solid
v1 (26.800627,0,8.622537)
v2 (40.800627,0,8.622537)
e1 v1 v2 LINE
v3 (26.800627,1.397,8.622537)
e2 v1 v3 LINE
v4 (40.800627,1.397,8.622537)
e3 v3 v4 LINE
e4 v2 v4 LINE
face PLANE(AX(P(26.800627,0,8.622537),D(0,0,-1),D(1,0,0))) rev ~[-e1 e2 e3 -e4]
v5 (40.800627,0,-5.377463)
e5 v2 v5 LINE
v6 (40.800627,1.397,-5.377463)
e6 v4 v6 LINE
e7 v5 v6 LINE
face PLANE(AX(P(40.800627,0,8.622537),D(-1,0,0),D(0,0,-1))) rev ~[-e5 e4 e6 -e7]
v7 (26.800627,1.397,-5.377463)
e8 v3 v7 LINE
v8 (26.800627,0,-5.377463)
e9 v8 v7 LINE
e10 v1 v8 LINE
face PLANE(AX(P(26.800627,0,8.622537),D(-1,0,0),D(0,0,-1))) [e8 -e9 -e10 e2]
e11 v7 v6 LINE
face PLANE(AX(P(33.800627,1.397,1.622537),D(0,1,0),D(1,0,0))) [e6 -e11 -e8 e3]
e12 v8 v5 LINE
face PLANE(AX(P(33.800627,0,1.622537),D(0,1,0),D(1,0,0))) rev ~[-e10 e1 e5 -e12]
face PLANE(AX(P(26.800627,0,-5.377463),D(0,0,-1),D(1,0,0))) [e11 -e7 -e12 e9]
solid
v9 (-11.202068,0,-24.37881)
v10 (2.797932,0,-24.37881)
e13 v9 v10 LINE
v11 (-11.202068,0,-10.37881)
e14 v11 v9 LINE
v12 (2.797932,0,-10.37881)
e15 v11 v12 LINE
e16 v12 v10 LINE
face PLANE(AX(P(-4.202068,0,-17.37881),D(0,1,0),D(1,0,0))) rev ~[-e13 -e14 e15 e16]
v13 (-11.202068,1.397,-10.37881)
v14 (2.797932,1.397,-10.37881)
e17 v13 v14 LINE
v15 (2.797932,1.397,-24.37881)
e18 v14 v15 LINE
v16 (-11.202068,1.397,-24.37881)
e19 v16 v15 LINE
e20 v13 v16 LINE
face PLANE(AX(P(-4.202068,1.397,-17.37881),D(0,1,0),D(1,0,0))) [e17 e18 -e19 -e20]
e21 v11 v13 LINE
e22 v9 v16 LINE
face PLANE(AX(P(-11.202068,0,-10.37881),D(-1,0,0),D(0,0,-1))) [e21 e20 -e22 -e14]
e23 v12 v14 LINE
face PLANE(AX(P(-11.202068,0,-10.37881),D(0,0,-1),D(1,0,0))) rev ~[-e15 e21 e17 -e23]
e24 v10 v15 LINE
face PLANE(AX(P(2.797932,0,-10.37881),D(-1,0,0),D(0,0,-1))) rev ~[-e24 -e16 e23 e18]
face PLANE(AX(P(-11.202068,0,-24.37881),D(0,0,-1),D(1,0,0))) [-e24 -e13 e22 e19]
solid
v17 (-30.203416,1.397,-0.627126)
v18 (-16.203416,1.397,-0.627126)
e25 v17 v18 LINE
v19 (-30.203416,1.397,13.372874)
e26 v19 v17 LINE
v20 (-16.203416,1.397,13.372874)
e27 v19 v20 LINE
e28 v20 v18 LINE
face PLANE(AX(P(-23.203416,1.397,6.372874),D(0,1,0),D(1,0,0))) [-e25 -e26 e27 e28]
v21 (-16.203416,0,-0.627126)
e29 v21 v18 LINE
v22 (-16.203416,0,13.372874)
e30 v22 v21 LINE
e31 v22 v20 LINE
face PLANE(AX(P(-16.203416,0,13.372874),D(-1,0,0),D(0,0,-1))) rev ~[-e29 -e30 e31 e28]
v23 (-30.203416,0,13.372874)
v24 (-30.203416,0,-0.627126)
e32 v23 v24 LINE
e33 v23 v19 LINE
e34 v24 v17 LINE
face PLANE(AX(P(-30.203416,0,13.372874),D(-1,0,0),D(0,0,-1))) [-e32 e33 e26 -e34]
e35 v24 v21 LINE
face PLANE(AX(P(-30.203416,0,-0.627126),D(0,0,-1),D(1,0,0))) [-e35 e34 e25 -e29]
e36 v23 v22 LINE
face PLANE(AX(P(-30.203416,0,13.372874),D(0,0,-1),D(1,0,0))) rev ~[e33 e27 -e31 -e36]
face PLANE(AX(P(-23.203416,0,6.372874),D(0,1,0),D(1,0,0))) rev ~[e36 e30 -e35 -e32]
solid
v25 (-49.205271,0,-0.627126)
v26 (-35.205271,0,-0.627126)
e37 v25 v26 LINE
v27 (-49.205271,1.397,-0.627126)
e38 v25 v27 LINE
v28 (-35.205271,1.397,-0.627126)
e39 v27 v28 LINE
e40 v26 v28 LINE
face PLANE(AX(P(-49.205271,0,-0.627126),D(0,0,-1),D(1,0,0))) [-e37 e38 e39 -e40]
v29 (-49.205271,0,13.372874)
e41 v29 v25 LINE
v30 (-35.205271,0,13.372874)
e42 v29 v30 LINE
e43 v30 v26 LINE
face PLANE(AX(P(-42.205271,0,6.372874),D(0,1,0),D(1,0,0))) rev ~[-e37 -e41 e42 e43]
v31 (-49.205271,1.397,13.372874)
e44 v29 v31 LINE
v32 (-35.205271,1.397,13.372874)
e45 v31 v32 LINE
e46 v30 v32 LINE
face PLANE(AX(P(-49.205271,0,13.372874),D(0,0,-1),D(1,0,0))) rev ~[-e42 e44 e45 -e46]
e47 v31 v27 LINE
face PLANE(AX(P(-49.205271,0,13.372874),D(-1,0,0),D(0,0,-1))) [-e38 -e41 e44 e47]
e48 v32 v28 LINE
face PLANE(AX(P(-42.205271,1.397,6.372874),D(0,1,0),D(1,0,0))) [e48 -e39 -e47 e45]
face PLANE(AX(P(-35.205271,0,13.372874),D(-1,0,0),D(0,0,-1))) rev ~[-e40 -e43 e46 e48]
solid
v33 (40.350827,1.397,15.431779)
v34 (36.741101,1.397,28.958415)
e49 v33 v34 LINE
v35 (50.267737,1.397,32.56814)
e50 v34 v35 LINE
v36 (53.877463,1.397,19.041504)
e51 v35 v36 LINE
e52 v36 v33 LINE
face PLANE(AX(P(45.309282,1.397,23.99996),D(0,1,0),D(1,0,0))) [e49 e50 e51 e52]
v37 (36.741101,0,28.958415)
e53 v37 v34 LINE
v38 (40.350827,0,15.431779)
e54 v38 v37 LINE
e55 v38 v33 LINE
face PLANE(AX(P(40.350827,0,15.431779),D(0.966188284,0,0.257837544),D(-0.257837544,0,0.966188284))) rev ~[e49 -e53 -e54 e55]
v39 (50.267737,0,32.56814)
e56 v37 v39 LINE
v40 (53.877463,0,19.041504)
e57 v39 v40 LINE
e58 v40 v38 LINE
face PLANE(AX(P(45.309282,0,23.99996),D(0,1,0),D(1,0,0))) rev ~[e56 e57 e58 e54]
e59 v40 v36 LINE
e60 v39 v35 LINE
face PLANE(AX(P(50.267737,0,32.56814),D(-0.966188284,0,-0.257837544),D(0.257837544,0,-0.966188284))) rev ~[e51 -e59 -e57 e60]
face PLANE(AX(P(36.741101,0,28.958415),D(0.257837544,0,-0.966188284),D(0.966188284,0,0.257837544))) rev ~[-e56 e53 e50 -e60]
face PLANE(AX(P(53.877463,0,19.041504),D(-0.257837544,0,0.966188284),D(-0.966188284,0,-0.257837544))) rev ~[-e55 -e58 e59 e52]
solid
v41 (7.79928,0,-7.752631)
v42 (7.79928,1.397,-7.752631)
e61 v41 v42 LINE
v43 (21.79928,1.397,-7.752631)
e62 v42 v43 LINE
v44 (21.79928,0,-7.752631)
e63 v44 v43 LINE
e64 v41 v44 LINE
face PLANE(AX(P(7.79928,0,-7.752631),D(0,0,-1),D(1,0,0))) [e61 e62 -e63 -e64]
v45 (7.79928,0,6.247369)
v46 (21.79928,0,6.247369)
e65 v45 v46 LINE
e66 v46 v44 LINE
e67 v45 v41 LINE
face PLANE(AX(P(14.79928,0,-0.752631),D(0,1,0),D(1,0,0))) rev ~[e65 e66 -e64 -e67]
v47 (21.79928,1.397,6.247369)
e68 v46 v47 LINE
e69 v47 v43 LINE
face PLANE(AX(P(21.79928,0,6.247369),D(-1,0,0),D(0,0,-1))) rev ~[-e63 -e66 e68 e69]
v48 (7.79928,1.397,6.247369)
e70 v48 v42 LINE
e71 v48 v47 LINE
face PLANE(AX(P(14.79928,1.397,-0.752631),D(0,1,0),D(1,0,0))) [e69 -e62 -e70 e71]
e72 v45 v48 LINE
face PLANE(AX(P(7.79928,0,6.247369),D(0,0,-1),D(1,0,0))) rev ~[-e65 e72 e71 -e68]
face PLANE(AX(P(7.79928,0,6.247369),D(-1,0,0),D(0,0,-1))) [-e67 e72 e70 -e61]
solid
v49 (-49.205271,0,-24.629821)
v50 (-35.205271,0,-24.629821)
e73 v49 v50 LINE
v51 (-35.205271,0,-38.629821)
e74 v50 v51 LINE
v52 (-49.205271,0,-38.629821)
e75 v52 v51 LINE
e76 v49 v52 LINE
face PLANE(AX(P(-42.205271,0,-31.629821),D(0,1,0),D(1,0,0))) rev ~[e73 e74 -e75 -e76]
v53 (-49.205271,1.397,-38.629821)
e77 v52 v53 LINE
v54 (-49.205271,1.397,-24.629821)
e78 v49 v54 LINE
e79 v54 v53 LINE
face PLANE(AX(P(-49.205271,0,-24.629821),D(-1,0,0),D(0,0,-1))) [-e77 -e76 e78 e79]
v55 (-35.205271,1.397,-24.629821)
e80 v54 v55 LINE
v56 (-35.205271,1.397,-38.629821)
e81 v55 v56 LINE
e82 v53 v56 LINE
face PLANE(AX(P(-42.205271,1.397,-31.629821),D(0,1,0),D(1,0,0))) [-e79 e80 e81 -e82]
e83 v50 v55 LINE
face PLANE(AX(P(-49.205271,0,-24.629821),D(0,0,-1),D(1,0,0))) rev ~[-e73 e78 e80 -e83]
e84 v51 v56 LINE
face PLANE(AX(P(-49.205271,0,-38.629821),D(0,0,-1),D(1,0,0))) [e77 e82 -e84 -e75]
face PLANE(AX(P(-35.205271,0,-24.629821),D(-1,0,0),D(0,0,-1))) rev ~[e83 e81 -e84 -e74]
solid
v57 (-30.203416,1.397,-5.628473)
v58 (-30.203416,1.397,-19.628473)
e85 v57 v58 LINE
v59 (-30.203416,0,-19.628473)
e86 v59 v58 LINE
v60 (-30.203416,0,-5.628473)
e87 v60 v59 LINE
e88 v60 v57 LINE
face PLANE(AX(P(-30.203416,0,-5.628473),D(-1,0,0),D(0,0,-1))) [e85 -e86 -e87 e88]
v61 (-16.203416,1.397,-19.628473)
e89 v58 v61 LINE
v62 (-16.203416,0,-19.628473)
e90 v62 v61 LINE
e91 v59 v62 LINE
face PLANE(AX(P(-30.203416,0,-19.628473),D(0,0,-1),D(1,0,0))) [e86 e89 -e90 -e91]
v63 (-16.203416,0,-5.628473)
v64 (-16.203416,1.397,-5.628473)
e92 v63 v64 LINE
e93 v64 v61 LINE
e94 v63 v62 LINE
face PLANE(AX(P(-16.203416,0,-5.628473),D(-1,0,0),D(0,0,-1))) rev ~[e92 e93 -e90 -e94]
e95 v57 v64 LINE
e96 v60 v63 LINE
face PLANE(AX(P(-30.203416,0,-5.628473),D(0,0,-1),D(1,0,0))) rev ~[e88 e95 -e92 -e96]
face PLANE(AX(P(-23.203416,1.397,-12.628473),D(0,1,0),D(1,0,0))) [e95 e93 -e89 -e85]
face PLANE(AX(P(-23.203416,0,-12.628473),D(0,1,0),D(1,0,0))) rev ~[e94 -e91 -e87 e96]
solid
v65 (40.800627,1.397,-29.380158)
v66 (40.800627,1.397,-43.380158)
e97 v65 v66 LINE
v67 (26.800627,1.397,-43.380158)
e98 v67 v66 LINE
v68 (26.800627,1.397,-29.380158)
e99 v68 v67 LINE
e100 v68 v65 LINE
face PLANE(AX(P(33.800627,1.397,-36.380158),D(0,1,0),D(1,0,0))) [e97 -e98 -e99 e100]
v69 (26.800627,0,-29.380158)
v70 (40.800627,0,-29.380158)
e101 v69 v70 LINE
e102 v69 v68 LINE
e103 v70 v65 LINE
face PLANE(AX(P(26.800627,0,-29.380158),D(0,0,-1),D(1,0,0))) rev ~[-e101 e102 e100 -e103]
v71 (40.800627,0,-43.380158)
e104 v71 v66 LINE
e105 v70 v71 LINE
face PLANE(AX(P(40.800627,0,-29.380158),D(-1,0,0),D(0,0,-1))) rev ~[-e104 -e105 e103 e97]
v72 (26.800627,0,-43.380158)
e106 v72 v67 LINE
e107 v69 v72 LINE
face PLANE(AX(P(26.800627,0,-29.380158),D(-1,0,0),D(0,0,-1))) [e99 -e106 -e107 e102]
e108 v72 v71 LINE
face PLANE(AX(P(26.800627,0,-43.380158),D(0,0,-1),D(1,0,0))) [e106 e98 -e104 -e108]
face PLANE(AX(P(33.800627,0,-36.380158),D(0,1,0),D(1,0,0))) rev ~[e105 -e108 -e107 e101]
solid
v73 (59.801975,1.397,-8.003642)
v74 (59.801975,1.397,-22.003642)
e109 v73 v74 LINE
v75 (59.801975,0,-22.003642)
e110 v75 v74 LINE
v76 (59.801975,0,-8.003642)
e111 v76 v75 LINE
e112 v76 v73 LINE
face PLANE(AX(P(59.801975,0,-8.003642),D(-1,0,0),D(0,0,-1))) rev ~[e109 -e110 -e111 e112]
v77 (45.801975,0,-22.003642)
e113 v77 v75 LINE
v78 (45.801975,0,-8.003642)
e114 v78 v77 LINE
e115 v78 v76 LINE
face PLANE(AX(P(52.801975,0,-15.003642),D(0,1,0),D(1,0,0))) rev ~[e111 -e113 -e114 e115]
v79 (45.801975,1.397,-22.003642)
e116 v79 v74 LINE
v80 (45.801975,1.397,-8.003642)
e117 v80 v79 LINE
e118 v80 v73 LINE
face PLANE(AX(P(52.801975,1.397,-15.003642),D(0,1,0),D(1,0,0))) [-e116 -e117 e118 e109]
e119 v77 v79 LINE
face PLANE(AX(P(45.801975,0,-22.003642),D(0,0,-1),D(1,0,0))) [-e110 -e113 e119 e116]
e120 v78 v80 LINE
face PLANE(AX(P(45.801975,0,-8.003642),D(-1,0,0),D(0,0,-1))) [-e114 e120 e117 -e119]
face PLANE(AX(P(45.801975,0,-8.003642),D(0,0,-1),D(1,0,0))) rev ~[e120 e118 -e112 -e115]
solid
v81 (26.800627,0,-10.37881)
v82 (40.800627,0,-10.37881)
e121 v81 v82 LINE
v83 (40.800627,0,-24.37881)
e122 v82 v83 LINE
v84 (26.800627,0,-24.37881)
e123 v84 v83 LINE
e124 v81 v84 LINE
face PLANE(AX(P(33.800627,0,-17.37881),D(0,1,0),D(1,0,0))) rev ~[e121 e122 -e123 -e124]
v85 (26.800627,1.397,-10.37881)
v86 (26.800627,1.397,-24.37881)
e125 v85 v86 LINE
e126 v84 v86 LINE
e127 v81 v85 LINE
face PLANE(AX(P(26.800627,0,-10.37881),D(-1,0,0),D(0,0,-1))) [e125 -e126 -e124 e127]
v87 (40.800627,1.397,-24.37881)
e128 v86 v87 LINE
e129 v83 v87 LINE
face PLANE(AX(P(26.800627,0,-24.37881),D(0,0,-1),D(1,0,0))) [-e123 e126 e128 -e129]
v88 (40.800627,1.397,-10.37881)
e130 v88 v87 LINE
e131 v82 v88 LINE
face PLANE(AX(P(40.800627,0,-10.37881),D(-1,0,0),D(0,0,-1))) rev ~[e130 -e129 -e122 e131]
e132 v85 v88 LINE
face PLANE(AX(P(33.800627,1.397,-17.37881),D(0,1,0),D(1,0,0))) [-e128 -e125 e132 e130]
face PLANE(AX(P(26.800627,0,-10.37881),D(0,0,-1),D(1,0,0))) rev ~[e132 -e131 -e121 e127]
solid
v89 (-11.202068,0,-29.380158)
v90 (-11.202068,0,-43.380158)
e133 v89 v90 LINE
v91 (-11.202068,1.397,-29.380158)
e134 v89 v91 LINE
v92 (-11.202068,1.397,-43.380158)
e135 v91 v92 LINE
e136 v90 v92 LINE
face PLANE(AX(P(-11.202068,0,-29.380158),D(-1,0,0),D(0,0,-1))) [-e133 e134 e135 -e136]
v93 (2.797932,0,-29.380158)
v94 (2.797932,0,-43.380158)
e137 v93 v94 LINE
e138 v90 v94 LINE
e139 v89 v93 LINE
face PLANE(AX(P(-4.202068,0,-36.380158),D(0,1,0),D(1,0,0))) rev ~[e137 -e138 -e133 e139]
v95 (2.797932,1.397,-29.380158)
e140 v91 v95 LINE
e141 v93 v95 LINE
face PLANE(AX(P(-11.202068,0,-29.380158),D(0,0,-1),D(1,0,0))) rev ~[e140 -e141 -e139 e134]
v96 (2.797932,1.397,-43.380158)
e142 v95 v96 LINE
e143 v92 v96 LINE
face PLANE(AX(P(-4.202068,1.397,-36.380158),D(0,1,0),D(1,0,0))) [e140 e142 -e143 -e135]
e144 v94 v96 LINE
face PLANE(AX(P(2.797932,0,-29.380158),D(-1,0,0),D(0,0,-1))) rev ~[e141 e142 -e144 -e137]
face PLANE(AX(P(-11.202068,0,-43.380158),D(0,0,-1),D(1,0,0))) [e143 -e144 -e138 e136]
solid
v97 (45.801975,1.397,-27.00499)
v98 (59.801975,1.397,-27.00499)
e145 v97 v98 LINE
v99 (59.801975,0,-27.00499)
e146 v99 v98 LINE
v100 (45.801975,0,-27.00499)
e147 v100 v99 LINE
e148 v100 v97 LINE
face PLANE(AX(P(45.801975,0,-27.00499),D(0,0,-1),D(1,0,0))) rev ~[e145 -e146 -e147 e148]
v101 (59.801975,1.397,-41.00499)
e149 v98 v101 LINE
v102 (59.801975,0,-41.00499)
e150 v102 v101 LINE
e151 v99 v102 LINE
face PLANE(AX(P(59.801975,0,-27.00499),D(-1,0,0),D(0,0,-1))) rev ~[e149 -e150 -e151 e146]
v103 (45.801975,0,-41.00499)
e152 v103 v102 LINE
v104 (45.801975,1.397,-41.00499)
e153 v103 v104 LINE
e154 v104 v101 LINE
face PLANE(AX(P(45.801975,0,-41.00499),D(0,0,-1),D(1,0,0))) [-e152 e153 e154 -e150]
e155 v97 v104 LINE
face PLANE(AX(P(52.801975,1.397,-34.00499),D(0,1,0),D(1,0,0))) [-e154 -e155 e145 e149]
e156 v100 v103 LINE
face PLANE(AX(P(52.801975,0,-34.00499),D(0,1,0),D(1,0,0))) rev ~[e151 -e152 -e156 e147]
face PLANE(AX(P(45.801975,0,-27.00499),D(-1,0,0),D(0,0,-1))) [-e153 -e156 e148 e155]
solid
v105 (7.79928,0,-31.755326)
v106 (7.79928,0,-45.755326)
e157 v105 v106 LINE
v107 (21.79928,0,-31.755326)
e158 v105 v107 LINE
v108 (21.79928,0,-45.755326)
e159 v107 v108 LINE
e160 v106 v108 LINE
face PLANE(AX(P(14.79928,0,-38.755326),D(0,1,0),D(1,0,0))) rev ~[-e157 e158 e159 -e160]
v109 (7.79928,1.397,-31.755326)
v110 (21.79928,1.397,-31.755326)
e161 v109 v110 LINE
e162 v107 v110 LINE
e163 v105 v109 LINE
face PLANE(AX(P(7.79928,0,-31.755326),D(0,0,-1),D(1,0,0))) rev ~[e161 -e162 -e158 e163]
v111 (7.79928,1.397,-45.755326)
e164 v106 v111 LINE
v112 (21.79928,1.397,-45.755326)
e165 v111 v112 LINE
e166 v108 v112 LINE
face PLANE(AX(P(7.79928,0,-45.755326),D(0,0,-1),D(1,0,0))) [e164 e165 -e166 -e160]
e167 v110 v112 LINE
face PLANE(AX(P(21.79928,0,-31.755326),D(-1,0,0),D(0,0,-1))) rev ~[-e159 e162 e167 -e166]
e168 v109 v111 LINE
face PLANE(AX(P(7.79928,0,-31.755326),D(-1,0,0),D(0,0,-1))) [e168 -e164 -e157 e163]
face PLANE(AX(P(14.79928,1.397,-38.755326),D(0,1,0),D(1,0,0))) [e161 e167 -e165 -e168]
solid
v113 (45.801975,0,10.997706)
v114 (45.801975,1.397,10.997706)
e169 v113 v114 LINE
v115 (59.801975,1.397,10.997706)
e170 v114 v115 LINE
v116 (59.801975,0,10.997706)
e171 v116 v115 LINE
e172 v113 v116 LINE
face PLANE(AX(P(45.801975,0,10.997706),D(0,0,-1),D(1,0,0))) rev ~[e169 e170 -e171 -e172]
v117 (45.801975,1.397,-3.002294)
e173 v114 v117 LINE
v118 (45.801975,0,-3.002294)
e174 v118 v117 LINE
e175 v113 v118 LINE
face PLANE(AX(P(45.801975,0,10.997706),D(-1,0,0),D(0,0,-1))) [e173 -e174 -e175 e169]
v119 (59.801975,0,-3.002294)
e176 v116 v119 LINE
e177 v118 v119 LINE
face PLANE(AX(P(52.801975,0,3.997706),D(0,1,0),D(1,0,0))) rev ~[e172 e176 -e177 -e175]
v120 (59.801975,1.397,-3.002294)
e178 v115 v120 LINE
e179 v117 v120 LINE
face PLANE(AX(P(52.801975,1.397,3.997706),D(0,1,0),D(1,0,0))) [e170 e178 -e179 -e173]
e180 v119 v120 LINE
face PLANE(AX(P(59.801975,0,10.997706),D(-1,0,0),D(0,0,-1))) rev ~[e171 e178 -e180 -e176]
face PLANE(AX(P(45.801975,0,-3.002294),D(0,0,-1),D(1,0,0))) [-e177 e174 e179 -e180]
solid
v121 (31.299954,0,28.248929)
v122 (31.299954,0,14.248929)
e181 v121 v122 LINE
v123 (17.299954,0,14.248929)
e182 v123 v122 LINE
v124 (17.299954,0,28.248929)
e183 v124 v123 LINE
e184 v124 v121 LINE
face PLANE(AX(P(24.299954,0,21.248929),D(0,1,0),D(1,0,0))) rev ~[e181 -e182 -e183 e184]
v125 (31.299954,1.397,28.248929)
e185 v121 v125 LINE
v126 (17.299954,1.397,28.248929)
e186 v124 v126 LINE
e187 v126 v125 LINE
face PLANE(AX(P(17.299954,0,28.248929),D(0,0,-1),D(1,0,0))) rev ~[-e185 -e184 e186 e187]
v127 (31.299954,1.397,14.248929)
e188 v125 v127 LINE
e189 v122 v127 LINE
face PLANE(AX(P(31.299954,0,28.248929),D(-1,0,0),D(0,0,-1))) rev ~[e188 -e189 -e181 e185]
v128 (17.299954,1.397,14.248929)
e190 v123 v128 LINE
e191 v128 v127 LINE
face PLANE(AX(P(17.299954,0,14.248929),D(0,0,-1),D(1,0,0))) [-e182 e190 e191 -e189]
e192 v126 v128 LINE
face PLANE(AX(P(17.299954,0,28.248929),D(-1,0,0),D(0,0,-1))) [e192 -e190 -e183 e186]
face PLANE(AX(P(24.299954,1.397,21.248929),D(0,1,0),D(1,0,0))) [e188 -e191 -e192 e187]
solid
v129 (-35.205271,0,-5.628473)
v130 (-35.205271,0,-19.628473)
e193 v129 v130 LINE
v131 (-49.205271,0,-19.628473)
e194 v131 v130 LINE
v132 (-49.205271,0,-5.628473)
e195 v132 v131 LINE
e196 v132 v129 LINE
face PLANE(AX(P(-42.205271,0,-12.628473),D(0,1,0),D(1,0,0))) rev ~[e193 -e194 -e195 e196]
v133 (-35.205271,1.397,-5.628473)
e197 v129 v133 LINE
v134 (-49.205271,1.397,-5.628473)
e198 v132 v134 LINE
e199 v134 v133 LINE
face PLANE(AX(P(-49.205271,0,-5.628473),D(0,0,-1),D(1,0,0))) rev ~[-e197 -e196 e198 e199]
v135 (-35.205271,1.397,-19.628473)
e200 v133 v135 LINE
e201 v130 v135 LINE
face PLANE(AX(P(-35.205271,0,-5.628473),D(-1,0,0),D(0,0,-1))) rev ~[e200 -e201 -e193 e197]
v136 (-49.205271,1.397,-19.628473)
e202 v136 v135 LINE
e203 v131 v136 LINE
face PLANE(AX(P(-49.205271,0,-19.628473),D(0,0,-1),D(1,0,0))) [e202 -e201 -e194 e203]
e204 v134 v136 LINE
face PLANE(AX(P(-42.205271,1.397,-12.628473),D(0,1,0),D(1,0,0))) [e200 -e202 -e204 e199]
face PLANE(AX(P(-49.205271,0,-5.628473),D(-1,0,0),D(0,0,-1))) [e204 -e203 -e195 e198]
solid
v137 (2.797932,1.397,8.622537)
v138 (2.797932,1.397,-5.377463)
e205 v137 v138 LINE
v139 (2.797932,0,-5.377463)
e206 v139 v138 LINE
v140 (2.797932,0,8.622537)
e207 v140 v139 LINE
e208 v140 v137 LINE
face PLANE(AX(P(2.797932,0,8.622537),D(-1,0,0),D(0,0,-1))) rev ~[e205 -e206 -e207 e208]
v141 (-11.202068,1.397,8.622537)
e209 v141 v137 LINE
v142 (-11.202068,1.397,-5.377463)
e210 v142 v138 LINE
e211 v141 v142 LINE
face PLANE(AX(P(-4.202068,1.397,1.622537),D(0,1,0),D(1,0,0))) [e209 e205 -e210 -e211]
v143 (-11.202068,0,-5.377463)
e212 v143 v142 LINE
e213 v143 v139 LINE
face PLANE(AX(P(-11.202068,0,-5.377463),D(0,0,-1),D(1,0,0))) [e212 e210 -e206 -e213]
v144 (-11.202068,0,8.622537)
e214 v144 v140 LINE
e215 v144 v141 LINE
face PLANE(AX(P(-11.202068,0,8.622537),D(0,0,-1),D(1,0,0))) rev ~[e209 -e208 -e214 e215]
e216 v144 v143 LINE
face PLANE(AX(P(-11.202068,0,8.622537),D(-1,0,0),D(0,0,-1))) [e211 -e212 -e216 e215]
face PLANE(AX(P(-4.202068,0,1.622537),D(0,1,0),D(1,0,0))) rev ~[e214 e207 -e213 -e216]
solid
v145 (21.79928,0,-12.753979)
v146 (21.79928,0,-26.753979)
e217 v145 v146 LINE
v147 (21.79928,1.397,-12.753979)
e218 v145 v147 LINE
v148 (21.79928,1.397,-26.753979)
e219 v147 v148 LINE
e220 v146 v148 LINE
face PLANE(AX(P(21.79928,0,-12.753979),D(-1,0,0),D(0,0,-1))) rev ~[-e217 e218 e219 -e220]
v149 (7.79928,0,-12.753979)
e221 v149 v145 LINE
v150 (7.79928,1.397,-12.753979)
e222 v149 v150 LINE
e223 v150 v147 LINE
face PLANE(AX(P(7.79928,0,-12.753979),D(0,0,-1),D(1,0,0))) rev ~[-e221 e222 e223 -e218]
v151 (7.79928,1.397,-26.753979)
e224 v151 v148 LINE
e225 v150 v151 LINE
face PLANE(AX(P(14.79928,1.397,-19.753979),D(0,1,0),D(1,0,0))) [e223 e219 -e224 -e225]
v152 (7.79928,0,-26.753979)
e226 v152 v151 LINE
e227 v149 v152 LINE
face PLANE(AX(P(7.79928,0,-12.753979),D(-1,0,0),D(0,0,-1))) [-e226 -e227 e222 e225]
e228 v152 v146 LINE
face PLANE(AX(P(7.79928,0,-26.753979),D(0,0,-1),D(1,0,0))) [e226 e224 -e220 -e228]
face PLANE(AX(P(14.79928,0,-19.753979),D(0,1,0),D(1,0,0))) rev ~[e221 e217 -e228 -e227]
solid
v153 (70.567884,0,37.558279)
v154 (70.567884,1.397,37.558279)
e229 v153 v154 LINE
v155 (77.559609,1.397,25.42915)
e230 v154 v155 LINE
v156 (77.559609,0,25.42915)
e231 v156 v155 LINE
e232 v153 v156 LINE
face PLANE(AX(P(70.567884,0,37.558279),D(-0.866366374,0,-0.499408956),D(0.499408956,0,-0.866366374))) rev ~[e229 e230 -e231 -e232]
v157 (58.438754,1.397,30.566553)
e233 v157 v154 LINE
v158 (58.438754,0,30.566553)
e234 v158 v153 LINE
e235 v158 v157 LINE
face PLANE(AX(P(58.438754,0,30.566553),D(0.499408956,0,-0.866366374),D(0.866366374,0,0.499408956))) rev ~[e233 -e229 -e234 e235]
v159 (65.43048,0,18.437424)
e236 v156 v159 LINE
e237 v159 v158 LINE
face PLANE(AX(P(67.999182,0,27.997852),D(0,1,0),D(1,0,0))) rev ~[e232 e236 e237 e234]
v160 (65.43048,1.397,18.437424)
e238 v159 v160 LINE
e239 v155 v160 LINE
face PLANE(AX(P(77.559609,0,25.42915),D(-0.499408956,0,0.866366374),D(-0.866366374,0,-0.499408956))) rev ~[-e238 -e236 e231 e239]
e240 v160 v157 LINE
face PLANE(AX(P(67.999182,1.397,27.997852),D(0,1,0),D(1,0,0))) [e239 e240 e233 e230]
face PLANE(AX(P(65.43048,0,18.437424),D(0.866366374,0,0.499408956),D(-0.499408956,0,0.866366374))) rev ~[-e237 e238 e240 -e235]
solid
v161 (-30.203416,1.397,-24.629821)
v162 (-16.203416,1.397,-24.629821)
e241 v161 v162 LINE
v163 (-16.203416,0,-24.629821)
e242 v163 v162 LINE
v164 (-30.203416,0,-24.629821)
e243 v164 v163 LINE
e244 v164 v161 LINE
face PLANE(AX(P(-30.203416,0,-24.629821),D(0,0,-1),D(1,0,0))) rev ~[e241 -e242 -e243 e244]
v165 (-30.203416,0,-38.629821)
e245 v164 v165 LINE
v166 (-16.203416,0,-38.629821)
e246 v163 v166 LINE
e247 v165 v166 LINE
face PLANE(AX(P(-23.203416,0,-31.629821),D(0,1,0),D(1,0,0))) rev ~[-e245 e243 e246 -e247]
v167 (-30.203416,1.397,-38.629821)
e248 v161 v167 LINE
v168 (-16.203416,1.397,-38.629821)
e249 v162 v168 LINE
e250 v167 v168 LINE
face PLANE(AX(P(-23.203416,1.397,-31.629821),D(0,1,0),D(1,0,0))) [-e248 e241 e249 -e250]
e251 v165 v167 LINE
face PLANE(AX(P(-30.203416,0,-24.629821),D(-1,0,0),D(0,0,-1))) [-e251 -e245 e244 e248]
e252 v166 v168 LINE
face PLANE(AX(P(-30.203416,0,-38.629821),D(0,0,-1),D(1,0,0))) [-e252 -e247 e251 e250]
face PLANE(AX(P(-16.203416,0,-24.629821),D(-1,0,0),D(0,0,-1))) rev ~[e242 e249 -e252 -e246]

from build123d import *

# Parameters (mm, degrees)
SKETCH1_W              = 14
SKETCH1_H              = 14
BOSS_EXTRUDE1_DEPTH    = 1.397
BOSS_EXTRUDE1_2_DEPTH  = 1.397
BOSS_EXTRUDE1_3_DEPTH  = 1.397
BOSS_EXTRUDE1_4_DEPTH  = 1.397
BOSS_EXTRUDE1_5_DEPTH  = 1.397
BOSS_EXTRUDE1_6_DEPTH  = 1.397
BOSS_EXTRUDE1_7_DEPTH  = 1.397
BOSS_EXTRUDE1_8_DEPTH  = 1.397
BOSS_EXTRUDE1_9_DEPTH  = 1.397
BOSS_EXTRUDE1_10_DEPTH = 1.397
BOSS_EXTRUDE1_11_DEPTH = 1.397
BOSS_EXTRUDE1_12_DEPTH = 1.397
BOSS_EXTRUDE1_13_DEPTH = 1.397
BOSS_EXTRUDE1_14_DEPTH = 1.397
BOSS_EXTRUDE1_15_DEPTH = 1.397
BOSS_EXTRUDE1_16_DEPTH = 1.397
BOSS_EXTRUDE1_17_DEPTH = 1.397
BOSS_EXTRUDE1_18_DEPTH = 1.397
BOSS_EXTRUDE1_19_DEPTH = 1.397
BOSS_EXTRUDE1_20_DEPTH = 1.397
BOSS_EXTRUDE1_21_DEPTH = 1.397


with BuildPart() as part:
    # Sketch1 → Boss-Extrude1 (new body)
    with BuildSketch(Plane(origin=(0, 0, 0), x_dir=(1, 0, 0), z_dir=(0, 1, 0))):
        with Locations((-42.205271238, 31.629821093)):
            Rectangle(SKETCH1_W, SKETCH1_H)
    extrude(amount=BOSS_EXTRUDE1_DEPTH)


with BuildPart() as body_2:
    # Sketch1 → Boss-Extrude1 2 (new body)
    with BuildSketch(Plane(origin=(0, 0, 0), x_dir=(1, 0, 0), z_dir=(0, 1, 0))):
        with Locations((-42.205271238, 12.628473437)):
            Rectangle(SKETCH1_W, SKETCH1_H)
    extrude(amount=BOSS_EXTRUDE1_2_DEPTH)


with BuildPart() as body_3:
    # Sketch1 → Boss-Extrude1 3 (new body)
    with BuildSketch(Plane(origin=(0, 0, 0), x_dir=(1, 0, 0), z_dir=(0, 1, 0))):
        with Locations((-42.205271238, -6.372874219)):
            Rectangle(SKETCH1_W, SKETCH1_H)
    extrude(amount=BOSS_EXTRUDE1_3_DEPTH)


with BuildPart() as body_4:
    # Sketch1 → Boss-Extrude1 4 (new body)
    with BuildSketch(Plane(origin=(0, 0, 0), x_dir=(1, 0, 0), z_dir=(0, 1, 0))):
        with Locations((-23.203415546, 31.629821093)):
            Rectangle(SKETCH1_W, SKETCH1_H)
    extrude(amount=BOSS_EXTRUDE1_4_DEPTH)


with BuildPart() as body_5:
    # Sketch1 → Boss-Extrude1 5 (new body)
    with BuildSketch(Plane(origin=(0, 0, 0), x_dir=(1, 0, 0), z_dir=(0, 1, 0))):
        with Locations((-23.203415546, 12.628473437)):
            Rectangle(SKETCH1_W, SKETCH1_H)
    extrude(amount=BOSS_EXTRUDE1_5_DEPTH)


with BuildPart() as body_6:
    # Sketch1 → Boss-Extrude1 6 (new body)
    with BuildSketch(Plane(origin=(0, 0, 0), x_dir=(1, 0, 0), z_dir=(0, 1, 0))):
        with Locations((-23.203415546, -6.372874219)):
            Rectangle(SKETCH1_W, SKETCH1_H)
    extrude(amount=BOSS_EXTRUDE1_6_DEPTH)


with BuildPart() as body_7:
    # Sketch1 → Boss-Extrude1 7 (new body)
    with BuildSketch(Plane(origin=(0, 0, 0), x_dir=(1, 0, 0), z_dir=(0, 1, 0))):
        with Locations((-4.20206789, 36.380158007)):
            Rectangle(SKETCH1_W, SKETCH1_H)
    extrude(amount=BOSS_EXTRUDE1_7_DEPTH)


with BuildPart() as body_8:
    # Sketch1 → Boss-Extrude1 8 (new body)
    with BuildSketch(Plane(origin=(0, 0, 0), x_dir=(1, 0, 0), z_dir=(0, 1, 0))):
        with Locations((-4.20206789, 17.378810351)):
            Rectangle(SKETCH1_W, SKETCH1_H)
    extrude(amount=BOSS_EXTRUDE1_8_DEPTH)


with BuildPart() as body_9:
    # Sketch1 → Boss-Extrude1 9 (new body)
    with BuildSketch(Plane(origin=(0, 0, 0), x_dir=(1, 0, 0), z_dir=(0, 1, 0))):
        with Locations((-4.20206789, -1.622537305)):
            Rectangle(SKETCH1_W, SKETCH1_H)
    extrude(amount=BOSS_EXTRUDE1_9_DEPTH)


with BuildPart() as body_10:
    # Sketch1 → Boss-Extrude1 10 (new body)
    with BuildSketch(Plane(origin=(0, 0, 0), x_dir=(1, 0, 0), z_dir=(0, 1, 0))):
        with Locations((14.799279766, 38.755326464)):
            Rectangle(SKETCH1_W, SKETCH1_H)
    extrude(amount=BOSS_EXTRUDE1_10_DEPTH)


with BuildPart() as body_11:
    # Sketch1 → Boss-Extrude1 11 (new body)
    with BuildSketch(Plane(origin=(0, 0, 0), x_dir=(1, 0, 0), z_dir=(0, 1, 0))):
        with Locations((14.799279766, 19.753978808)):
            Rectangle(SKETCH1_W, SKETCH1_H)
    extrude(amount=BOSS_EXTRUDE1_11_DEPTH)


with BuildPart() as body_12:
    # Sketch1 → Boss-Extrude1 12 (new body)
    with BuildSketch(Plane(origin=(0, 0, 0), x_dir=(1, 0, 0), z_dir=(0, 1, 0))):
        with Locations((14.799279766, 0.752631152)):
            Rectangle(SKETCH1_W, SKETCH1_H)
    extrude(amount=BOSS_EXTRUDE1_12_DEPTH)


with BuildPart() as body_13:
    # Sketch1 → Boss-Extrude1 13 (new body)
    with BuildSketch(Plane(origin=(0, 0, 0), x_dir=(1, 0, 0), z_dir=(0, 1, 0))):
        with Locations((33.800627421, 36.380158007)):
            Rectangle(SKETCH1_W, SKETCH1_H)
    extrude(amount=BOSS_EXTRUDE1_13_DEPTH)


with BuildPart() as body_14:
    # Sketch1 → Boss-Extrude1 14 (new body)
    with BuildSketch(Plane(origin=(0, 0, 0), x_dir=(1, 0, 0), z_dir=(0, 1, 0))):
        with Locations((33.800627421, 17.378810351)):
            Rectangle(SKETCH1_W, SKETCH1_H)
    extrude(amount=BOSS_EXTRUDE1_14_DEPTH)


with BuildPart() as body_15:
    # Sketch1 → Boss-Extrude1 15 (new body)
    with BuildSketch(Plane(origin=(0, 0, 0), x_dir=(1, 0, 0), z_dir=(0, 1, 0))):
        with Locations((33.800627421, -1.622537305)):
            Rectangle(SKETCH1_W, SKETCH1_H)
    extrude(amount=BOSS_EXTRUDE1_15_DEPTH)


with BuildPart() as body_16:
    # Sketch1 → Boss-Extrude1 16 (new body)
    with BuildSketch(Plane(origin=(0, 0, 0), x_dir=(1, 0, 0), z_dir=(0, 1, 0))):
        with Locations((52.801975077, 34.00498955)):
            Rectangle(SKETCH1_W, SKETCH1_H)
    extrude(amount=BOSS_EXTRUDE1_16_DEPTH)


with BuildPart() as body_17:
    # Sketch1 → Boss-Extrude1 17 (new body)
    with BuildSketch(Plane(origin=(0, 0, 0), x_dir=(1, 0, 0), z_dir=(0, 1, 0))):
        with Locations((52.801975077, 15.003641894)):
            Rectangle(SKETCH1_W, SKETCH1_H)
    extrude(amount=BOSS_EXTRUDE1_17_DEPTH)


with BuildPart() as body_18:
    # Sketch1 → Boss-Extrude1 18 (new body)
    with BuildSketch(Plane(origin=(0, 0, 0), x_dir=(1, 0, 0), z_dir=(0, 1, 0))):
        with Locations((52.801975077, -3.997705762)):
            Rectangle(SKETCH1_W, SKETCH1_H)
    extrude(amount=BOSS_EXTRUDE1_18_DEPTH)


with BuildPart() as body_19:
    # Sketch1 → Boss-Extrude1 19 (new body)
    with BuildSketch(Plane(origin=(0, 0, 0), x_dir=(1, 0, 0), z_dir=(0, 1, 0))):
        with Locations((24.299953593, -21.248929292)):
            Rectangle(SKETCH1_W, SKETCH1_H)
    extrude(amount=BOSS_EXTRUDE1_19_DEPTH)


with BuildPart() as body_20:
    # Sketch1 → Boss-Extrude1 20 (new body)
    with BuildSketch(Plane(origin=(0, 0, 0), x_dir=(1, 0, 0), z_dir=(0, 1, 0))):
        Polygon((40.350827086, -15.431778744), (36.741101467, -28.958414724), (50.267737448, -32.568140343), (53.877463067, -19.041504363), align=None)
    extrude(amount=BOSS_EXTRUDE1_20_DEPTH)


with BuildPart() as body_21:
    # Sketch1 → Boss-Extrude1 21 (new body)
    with BuildSketch(Plane(origin=(0, 0, 0), x_dir=(1, 0, 0), z_dir=(0, 1, 0))):
        Polygon((65.430479703, -18.437424217), (58.438754316, -30.566553457), (70.567883556, -37.558278844), (77.559608943, -25.429149604), align=None)
    extrude(amount=BOSS_EXTRUDE1_21_DEPTH)


solid = Compound([part.part, body_2.part, body_3.part, body_4.part, body_5.part, body_6.part, body_7.part, body_8.part, body_9.part, body_10.part, body_11.part, body_12.part, body_13.part, body_14.part, body_15.part, body_16.part, body_17.part, body_18.part, body_19.part, body_20.part, body_21.part])
